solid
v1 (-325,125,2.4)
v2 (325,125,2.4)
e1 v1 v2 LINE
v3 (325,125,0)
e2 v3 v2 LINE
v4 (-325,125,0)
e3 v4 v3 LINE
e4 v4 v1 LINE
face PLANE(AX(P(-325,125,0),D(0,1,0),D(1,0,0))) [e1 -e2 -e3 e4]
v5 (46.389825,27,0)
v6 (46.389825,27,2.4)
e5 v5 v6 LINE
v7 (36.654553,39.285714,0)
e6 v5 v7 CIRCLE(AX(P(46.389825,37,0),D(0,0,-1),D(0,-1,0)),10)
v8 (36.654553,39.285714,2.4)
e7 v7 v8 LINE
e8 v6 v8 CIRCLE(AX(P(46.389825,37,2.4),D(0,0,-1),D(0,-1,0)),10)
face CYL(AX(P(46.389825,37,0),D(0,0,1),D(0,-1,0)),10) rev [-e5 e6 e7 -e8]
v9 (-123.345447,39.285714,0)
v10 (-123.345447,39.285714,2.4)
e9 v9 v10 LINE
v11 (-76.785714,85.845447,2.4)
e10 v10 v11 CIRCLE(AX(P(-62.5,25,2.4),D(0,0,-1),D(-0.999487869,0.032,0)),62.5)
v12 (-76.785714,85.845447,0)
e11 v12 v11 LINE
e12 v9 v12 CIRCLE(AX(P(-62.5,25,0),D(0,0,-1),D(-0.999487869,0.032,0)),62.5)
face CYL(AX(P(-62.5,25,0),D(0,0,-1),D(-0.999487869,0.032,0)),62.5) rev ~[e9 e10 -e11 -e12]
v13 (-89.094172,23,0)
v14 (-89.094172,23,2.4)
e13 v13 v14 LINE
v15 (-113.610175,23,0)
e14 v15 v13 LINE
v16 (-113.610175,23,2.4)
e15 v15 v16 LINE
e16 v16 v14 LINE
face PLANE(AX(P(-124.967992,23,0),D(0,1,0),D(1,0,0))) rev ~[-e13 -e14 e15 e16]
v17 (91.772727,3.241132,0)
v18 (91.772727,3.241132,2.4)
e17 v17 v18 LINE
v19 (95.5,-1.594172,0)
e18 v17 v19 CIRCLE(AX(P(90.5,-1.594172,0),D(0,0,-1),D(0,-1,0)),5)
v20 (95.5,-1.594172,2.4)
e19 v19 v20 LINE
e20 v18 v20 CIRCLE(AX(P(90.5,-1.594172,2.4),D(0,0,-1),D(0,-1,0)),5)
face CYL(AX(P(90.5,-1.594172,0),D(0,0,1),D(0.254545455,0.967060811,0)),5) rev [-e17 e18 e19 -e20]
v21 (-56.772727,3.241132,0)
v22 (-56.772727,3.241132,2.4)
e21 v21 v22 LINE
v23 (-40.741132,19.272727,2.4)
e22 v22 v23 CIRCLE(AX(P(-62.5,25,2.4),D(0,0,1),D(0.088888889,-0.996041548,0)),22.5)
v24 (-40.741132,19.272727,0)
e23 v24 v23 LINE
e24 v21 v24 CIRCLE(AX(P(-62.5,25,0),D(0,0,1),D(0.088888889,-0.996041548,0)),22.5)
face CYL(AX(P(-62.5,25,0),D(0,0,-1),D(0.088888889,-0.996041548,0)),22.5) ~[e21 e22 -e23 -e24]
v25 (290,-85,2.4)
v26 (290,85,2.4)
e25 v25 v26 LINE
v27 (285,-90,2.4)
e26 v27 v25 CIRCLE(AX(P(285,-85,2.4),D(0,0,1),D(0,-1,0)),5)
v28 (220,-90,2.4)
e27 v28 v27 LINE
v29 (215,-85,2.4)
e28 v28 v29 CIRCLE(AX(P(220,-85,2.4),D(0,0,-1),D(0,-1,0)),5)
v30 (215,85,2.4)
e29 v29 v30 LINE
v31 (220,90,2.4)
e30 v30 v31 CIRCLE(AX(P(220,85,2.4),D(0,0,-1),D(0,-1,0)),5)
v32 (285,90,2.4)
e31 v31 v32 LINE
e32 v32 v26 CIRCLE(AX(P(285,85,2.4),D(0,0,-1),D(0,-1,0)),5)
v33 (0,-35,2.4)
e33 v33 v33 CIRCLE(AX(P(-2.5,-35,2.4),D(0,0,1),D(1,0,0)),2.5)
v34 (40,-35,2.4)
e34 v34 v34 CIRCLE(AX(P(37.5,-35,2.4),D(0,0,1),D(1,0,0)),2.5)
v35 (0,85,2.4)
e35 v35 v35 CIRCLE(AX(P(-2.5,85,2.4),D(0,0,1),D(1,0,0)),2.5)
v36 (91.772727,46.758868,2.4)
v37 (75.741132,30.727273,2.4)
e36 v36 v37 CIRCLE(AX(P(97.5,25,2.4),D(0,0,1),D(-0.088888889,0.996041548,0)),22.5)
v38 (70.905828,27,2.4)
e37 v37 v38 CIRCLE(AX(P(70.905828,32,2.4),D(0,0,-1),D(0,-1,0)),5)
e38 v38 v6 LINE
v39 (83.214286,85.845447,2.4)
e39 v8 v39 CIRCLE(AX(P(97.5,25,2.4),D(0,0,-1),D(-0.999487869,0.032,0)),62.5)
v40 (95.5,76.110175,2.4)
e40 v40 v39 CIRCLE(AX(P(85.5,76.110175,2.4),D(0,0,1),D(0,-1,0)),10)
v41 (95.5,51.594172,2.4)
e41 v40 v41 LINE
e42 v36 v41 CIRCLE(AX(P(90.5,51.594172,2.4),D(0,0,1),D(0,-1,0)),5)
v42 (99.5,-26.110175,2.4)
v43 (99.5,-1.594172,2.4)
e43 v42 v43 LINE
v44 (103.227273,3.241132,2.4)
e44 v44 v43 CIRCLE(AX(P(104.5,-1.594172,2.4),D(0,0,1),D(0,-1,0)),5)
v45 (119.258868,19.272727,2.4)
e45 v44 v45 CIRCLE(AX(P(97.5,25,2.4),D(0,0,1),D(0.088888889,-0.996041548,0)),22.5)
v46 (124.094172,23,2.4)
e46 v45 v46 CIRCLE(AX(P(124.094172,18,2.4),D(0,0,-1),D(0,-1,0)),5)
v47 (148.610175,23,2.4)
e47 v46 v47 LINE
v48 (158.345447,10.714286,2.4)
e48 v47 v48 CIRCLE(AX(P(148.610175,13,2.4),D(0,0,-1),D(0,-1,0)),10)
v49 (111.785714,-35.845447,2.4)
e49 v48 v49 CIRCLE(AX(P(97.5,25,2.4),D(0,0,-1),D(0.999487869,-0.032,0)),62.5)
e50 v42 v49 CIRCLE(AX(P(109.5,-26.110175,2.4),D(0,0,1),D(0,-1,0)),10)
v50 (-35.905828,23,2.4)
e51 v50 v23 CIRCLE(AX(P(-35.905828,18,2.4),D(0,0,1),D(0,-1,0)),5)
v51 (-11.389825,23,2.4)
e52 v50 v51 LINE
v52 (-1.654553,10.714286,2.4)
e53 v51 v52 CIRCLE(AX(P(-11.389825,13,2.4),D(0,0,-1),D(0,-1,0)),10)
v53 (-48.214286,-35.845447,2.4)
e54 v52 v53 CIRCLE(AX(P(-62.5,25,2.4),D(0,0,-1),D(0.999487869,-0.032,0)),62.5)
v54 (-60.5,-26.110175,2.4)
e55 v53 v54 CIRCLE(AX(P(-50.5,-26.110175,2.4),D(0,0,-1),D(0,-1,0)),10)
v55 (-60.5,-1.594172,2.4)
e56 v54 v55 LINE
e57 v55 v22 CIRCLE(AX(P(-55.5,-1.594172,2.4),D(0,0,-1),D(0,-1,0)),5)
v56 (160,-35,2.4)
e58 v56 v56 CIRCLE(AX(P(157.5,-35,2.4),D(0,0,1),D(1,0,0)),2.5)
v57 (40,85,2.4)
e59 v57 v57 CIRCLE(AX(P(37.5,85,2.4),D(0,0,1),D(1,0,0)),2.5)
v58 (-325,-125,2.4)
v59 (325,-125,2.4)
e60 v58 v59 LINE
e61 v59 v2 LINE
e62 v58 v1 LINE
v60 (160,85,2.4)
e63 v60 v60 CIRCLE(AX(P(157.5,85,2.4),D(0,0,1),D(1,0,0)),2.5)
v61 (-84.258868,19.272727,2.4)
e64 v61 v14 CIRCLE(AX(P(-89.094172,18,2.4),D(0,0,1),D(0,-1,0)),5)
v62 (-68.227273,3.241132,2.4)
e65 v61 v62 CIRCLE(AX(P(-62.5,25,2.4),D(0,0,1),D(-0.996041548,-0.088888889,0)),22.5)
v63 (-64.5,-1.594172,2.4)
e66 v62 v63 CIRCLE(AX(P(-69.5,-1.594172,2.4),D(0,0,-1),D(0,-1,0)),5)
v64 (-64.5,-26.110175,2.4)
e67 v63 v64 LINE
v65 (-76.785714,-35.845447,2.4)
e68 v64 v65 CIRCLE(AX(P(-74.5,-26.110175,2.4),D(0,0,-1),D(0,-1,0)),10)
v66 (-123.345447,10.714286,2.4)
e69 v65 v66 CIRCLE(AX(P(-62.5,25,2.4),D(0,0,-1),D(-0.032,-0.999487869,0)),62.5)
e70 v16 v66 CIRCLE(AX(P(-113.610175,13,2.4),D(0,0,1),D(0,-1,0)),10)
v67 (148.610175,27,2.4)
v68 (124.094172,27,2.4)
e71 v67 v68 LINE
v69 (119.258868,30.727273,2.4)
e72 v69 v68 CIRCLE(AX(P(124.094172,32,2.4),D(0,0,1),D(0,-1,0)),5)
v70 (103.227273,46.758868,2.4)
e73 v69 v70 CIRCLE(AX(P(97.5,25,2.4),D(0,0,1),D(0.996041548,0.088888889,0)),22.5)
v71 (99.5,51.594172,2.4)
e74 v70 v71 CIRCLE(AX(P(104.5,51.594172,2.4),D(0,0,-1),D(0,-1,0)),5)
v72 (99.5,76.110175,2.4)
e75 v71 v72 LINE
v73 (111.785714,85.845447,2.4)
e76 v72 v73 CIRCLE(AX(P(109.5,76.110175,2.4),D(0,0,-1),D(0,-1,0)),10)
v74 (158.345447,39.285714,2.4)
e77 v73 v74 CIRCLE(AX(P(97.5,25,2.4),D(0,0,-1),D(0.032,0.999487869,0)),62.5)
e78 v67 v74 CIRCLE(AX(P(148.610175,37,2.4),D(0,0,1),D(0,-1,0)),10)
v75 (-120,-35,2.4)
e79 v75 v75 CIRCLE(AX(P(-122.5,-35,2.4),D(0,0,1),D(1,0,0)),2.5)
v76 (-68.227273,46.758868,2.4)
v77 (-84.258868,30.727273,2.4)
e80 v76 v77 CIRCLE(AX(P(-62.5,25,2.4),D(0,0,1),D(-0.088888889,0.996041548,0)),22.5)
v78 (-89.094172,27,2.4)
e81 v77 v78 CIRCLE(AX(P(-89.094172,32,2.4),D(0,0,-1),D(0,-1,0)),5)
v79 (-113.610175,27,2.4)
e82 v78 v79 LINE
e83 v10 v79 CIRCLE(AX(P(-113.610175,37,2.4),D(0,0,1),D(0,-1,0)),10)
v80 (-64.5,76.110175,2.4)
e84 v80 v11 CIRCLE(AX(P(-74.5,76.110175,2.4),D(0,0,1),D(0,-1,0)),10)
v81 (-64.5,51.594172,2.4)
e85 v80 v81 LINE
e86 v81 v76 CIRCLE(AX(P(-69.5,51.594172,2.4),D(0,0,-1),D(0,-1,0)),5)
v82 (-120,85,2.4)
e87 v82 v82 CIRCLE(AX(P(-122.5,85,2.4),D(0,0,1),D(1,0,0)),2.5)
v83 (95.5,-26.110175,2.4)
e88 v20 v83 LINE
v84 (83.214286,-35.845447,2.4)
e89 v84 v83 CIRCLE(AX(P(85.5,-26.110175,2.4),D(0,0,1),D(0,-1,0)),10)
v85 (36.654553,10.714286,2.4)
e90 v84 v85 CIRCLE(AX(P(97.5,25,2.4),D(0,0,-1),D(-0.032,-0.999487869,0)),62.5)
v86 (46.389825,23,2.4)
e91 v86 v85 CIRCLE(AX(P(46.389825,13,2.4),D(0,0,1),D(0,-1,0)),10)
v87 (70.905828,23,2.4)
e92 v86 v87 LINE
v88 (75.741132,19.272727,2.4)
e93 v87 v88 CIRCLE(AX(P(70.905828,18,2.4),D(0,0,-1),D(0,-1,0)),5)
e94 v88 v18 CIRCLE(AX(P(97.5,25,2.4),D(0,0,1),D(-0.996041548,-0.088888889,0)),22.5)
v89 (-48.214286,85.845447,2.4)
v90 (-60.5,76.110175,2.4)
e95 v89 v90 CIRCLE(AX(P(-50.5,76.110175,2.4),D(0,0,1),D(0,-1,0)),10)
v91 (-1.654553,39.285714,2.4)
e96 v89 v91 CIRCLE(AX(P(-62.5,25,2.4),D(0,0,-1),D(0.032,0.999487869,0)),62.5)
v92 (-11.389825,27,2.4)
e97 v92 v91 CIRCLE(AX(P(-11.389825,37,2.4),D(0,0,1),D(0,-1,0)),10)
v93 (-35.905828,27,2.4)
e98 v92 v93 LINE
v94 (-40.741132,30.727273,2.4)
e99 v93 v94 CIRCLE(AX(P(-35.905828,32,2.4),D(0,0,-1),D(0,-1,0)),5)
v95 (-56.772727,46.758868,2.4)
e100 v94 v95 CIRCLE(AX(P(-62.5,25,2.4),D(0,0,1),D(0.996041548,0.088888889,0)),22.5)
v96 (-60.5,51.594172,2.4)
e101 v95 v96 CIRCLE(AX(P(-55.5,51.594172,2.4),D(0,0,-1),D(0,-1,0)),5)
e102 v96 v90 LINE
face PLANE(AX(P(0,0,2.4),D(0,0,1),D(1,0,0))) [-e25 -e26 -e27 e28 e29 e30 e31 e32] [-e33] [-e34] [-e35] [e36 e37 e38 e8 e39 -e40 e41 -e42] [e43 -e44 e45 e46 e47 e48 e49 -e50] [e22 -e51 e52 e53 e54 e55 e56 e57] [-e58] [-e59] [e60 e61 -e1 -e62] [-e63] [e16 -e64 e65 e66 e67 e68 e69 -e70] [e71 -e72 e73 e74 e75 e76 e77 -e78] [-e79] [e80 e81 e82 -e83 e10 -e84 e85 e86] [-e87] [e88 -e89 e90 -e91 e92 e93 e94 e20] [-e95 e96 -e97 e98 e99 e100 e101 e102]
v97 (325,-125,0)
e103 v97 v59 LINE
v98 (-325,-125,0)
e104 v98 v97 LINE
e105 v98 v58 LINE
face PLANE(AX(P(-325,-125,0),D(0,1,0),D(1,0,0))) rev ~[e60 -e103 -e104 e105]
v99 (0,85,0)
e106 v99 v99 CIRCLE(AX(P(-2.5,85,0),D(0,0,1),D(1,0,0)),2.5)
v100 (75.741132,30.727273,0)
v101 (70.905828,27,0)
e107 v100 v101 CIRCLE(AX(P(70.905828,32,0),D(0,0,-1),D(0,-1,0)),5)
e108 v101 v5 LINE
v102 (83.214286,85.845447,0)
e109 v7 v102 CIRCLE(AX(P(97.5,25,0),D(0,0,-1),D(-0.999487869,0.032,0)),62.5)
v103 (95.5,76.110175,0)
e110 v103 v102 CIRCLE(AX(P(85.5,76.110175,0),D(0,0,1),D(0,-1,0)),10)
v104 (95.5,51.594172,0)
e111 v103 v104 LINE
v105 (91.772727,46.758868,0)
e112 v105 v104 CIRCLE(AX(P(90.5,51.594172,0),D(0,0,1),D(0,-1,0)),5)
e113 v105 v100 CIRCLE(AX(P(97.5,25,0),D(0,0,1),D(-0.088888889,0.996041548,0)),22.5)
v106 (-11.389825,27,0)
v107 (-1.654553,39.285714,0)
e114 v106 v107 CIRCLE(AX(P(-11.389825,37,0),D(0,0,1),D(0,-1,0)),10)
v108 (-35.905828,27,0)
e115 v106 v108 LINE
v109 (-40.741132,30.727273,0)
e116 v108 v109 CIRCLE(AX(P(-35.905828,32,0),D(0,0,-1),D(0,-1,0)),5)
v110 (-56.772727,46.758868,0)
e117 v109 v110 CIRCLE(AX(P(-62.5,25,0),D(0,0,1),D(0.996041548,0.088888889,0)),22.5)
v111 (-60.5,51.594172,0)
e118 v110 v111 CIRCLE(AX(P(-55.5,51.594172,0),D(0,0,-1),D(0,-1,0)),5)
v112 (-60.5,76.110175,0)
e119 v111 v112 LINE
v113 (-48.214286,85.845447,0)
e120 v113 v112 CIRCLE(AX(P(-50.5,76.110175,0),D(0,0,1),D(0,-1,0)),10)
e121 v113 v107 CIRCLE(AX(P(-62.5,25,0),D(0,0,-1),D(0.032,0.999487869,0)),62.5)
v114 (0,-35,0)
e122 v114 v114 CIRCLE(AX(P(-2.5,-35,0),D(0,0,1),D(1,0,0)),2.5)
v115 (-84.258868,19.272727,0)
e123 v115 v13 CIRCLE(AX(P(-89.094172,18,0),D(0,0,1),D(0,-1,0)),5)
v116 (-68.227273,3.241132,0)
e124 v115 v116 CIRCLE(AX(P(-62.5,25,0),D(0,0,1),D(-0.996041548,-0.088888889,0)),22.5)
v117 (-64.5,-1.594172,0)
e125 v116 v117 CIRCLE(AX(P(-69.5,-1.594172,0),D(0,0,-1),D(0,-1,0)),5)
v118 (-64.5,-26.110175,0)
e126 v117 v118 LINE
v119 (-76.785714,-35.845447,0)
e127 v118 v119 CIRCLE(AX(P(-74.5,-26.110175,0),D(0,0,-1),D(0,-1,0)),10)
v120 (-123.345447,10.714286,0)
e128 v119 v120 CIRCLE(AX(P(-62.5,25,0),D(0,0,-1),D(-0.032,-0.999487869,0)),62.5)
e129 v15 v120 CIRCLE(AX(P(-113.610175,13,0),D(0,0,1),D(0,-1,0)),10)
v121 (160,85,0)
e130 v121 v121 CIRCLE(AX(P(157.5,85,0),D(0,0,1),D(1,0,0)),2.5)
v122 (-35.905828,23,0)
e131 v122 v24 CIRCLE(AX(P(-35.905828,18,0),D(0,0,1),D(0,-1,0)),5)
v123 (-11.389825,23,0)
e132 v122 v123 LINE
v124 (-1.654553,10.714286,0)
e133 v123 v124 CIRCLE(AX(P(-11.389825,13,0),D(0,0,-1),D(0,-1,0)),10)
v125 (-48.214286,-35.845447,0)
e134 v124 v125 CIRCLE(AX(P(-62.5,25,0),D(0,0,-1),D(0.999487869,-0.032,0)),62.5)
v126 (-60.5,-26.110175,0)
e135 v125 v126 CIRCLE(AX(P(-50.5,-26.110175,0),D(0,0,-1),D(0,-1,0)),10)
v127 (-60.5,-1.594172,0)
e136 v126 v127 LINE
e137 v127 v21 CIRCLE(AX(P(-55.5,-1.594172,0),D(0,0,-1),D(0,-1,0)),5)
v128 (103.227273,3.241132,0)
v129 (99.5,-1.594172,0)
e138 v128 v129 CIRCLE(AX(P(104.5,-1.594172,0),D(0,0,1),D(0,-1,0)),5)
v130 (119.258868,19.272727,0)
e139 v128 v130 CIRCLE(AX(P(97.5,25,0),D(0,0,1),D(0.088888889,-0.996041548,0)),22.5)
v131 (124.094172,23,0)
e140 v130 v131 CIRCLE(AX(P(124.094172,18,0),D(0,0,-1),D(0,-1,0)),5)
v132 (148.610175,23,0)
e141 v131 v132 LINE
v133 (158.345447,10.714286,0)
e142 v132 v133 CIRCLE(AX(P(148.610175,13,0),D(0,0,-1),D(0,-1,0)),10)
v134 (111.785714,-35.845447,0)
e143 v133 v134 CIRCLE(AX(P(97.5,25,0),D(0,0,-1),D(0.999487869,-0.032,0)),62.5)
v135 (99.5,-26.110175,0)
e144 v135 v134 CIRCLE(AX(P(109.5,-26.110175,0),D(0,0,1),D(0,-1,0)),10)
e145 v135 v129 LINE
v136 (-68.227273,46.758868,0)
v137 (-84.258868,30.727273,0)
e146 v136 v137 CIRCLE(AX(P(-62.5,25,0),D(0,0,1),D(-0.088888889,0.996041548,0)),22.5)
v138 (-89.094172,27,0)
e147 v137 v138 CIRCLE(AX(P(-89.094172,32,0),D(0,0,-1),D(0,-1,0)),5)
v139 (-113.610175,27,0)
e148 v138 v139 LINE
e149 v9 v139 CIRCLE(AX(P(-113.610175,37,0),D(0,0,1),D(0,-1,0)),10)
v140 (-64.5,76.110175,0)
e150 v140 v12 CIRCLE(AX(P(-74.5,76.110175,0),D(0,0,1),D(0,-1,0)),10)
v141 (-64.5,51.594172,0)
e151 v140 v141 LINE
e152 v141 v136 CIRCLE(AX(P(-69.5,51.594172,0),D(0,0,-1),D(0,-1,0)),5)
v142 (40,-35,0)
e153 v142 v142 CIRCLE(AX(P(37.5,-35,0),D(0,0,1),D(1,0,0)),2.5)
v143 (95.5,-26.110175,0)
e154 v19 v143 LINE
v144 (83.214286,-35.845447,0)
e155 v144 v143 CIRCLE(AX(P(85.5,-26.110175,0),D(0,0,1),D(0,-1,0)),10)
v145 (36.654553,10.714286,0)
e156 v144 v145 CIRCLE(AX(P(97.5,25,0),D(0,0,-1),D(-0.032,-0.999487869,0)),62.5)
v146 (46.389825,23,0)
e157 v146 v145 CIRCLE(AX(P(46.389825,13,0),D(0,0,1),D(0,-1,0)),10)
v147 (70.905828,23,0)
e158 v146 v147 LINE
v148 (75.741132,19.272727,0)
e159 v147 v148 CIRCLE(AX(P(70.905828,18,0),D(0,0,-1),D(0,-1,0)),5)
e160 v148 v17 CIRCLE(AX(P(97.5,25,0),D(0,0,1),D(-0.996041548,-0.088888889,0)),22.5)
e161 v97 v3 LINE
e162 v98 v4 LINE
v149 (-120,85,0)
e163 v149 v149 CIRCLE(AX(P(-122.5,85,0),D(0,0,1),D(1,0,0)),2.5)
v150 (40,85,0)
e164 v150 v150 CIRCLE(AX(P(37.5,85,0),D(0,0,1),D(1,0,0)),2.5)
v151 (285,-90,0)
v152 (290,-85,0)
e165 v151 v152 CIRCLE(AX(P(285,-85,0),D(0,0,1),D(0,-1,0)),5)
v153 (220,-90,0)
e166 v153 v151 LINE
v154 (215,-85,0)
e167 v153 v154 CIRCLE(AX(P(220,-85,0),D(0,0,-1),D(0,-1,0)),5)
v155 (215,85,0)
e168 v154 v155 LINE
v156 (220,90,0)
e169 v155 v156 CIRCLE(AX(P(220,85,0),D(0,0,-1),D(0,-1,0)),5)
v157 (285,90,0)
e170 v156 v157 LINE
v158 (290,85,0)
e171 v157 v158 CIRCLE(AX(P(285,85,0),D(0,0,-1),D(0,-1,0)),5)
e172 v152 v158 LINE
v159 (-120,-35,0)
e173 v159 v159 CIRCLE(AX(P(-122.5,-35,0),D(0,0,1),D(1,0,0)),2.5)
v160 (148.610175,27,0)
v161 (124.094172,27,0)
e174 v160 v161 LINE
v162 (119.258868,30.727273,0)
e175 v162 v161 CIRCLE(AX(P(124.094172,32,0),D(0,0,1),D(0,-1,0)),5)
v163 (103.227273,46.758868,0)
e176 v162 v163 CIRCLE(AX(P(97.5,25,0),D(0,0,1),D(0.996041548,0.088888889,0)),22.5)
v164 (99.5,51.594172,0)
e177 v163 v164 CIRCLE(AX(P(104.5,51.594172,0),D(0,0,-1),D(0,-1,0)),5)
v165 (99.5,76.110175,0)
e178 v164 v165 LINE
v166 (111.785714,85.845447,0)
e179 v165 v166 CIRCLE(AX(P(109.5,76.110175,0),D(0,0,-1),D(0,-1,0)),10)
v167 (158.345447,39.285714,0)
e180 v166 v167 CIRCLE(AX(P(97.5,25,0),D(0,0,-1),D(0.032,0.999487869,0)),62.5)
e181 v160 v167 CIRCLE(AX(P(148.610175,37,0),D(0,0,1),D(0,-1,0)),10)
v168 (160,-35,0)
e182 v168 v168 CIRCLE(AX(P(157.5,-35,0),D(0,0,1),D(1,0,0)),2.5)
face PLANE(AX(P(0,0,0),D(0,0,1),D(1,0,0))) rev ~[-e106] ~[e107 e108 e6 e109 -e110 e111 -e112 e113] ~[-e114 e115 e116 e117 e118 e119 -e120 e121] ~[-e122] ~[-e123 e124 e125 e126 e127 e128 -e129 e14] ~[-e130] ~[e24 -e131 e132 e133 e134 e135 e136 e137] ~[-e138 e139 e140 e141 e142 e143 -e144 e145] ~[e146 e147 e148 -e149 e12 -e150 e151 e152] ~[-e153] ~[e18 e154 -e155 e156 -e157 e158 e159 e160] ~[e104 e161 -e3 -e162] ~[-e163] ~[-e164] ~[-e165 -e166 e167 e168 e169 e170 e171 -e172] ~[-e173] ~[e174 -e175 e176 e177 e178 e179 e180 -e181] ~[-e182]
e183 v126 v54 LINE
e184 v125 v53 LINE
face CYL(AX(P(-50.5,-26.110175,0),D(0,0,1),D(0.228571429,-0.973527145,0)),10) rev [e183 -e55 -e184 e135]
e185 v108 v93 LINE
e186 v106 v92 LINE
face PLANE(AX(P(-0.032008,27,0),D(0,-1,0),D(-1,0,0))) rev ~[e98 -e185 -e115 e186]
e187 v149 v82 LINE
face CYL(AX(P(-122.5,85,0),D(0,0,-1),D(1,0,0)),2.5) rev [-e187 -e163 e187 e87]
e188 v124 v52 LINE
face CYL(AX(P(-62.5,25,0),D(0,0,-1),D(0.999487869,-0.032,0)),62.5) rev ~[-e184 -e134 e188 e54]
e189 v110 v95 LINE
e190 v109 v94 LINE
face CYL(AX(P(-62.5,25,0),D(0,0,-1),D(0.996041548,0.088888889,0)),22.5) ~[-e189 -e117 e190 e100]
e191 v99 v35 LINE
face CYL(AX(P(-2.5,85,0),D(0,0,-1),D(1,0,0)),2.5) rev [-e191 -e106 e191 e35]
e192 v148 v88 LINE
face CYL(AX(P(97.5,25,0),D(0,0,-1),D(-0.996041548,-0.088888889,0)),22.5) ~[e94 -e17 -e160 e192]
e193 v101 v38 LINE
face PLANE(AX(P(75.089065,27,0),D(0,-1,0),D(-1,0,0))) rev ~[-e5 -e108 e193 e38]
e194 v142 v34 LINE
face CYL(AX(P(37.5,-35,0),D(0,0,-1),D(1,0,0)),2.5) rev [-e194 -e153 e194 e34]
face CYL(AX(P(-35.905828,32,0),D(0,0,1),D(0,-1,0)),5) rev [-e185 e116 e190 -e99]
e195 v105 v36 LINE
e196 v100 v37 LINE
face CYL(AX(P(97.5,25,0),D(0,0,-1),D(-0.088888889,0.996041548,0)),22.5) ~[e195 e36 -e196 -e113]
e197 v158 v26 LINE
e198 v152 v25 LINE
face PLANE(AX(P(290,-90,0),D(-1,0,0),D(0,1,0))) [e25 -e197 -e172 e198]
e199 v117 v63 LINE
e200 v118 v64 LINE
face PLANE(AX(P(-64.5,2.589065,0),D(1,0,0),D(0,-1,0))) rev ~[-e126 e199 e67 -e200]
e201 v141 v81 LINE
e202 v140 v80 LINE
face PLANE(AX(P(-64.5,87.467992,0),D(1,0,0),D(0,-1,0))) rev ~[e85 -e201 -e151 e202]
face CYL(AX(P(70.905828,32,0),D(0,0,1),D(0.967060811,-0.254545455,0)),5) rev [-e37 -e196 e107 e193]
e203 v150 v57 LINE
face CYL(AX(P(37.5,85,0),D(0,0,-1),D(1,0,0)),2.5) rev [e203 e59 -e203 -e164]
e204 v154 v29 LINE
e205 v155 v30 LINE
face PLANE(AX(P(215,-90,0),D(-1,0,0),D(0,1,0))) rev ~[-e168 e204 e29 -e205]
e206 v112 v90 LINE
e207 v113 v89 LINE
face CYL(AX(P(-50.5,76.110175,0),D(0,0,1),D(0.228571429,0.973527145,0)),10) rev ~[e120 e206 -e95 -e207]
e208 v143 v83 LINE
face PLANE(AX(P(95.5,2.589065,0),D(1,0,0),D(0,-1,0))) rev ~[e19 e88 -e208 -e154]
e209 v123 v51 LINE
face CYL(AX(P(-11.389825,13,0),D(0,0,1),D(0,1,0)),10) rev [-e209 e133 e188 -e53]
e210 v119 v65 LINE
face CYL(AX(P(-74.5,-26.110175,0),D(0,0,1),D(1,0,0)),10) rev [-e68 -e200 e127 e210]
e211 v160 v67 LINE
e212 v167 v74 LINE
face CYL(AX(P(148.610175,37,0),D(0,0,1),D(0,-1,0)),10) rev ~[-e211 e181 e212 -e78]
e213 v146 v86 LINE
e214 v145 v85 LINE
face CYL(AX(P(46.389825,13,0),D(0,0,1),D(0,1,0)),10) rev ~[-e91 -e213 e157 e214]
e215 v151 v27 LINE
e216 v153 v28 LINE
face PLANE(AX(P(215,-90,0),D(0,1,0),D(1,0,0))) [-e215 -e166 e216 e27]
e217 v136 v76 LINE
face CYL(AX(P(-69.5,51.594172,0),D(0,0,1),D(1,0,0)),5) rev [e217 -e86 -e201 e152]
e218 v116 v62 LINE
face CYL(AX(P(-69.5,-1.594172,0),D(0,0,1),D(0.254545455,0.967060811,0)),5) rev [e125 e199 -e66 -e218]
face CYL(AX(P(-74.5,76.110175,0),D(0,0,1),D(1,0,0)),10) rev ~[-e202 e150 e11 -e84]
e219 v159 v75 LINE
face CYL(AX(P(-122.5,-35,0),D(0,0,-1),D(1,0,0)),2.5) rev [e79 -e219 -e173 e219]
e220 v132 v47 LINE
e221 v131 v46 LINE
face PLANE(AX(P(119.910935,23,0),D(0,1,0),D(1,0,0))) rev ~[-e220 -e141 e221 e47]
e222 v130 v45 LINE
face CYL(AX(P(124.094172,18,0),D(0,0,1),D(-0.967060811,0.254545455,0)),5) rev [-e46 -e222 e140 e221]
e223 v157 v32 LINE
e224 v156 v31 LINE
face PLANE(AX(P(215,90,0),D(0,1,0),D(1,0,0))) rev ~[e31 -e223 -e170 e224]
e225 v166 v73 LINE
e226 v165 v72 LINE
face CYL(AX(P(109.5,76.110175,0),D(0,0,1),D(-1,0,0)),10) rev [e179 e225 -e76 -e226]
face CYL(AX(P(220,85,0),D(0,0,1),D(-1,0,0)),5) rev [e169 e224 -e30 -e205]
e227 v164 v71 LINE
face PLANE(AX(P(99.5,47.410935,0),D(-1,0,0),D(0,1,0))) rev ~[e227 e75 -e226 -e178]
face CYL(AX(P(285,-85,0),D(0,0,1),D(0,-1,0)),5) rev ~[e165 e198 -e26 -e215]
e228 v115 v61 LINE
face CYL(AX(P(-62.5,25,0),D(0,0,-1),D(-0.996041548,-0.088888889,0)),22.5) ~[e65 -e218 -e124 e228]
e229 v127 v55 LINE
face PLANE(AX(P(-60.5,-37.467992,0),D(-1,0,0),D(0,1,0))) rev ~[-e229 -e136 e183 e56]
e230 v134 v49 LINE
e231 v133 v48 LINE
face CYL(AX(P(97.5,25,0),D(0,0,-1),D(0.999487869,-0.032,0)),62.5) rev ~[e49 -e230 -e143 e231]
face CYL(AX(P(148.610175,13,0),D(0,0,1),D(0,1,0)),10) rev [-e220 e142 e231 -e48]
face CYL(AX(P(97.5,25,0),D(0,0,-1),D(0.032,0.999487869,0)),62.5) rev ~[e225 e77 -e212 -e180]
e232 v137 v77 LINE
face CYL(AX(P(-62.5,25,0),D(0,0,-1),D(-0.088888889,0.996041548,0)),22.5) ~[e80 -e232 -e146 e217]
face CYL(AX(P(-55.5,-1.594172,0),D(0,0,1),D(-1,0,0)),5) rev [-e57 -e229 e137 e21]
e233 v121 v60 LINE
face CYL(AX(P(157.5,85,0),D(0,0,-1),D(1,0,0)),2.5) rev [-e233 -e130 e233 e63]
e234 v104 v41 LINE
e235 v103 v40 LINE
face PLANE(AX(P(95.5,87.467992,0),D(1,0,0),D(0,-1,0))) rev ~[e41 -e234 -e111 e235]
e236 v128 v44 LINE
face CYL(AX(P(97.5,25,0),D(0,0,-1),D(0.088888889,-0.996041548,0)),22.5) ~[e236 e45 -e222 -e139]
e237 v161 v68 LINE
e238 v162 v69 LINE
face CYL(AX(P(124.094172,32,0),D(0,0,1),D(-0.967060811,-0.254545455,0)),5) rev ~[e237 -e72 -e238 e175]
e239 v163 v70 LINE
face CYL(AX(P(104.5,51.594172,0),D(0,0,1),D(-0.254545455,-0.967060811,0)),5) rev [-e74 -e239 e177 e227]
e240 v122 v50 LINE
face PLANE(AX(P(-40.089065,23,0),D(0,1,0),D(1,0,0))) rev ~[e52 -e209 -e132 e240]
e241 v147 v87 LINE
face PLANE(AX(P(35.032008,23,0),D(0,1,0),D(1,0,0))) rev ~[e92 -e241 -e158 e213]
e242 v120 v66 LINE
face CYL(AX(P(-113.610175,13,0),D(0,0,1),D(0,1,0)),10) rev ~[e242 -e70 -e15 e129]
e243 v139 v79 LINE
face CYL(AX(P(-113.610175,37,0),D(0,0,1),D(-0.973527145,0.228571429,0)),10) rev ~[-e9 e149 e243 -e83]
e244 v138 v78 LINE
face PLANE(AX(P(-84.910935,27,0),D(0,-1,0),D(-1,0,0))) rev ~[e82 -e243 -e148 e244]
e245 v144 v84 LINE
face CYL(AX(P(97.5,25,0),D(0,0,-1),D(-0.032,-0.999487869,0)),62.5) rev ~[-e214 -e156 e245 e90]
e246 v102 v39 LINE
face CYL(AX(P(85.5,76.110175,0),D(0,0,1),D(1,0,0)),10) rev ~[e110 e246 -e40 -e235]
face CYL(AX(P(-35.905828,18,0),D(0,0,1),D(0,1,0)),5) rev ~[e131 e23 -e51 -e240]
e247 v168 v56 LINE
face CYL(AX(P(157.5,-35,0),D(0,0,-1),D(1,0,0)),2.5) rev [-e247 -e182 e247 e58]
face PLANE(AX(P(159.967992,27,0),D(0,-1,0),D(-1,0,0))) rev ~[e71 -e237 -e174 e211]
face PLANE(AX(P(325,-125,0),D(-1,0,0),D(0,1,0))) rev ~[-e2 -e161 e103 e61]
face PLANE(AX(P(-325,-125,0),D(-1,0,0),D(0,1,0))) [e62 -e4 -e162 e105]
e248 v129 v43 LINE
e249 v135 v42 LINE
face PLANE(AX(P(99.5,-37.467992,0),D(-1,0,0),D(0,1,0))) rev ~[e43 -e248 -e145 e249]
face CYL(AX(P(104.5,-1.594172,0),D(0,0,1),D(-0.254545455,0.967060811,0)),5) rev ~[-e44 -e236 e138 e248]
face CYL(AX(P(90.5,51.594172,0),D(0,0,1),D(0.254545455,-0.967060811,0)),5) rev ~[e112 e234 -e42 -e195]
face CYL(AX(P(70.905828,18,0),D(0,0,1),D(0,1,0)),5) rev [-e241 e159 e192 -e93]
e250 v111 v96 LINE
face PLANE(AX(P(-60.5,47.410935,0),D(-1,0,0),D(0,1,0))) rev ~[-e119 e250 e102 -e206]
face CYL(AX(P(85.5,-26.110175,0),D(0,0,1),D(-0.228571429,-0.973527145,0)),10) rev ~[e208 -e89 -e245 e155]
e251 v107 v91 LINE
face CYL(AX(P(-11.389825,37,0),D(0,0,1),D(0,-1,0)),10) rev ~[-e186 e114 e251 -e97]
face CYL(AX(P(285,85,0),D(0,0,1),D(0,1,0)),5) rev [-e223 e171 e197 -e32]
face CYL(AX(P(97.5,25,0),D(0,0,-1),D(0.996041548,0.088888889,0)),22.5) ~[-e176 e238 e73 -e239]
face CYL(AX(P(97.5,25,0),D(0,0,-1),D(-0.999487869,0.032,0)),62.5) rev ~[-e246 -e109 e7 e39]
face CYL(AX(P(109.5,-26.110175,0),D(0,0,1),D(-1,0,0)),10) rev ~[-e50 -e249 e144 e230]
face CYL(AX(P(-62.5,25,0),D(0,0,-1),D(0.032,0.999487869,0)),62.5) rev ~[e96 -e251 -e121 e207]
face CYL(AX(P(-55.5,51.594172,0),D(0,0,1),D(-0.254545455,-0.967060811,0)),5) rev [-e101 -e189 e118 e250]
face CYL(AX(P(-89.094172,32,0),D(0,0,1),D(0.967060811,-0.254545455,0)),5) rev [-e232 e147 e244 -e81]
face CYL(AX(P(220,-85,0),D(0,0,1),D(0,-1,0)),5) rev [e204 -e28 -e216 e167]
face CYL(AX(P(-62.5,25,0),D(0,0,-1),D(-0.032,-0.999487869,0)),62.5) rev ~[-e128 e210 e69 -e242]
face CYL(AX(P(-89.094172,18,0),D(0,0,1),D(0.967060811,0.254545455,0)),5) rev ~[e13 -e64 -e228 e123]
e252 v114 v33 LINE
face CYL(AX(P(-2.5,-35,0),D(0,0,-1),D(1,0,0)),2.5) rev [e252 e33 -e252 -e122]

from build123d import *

# Parameters (mm, degrees)
F0_W     = 650
F0_H     = 250
F0_R     = 2.5
F0_W_2   = 75
F0_H_2   = 180
F0_W_3   = 2
F0_H_3   = 2
F1_DEPTH = 2.4
F2_R     = 5
F3_R     = 10
F4_R     = 5


with BuildPart() as f1:
    # F0 (on Top) → F1 (new body)
    with BuildSketch(Plane.XY):
        Rectangle(F0_W, F0_H)
        with Locations((-122.5, -35)):
            Circle(F0_R, mode=Mode.SUBTRACT)
        with Locations((-2.5, -35)):
            Circle(F0_R, mode=Mode.SUBTRACT)
        with Locations((37.5, -35)):
            Circle(F0_R, mode=Mode.SUBTRACT)
        with Locations((157.5, -35)):
            Circle(F0_R, mode=Mode.SUBTRACT)
        with Locations((-122.5, 85)):
            Circle(F0_R, mode=Mode.SUBTRACT)
        with Locations((-2.5, 85)):
            Circle(F0_R, mode=Mode.SUBTRACT)
        with BuildLine():
            ThreePointArc((-60.5, 87.4679918038), (-18.3058261758, 69.1941738242), (-0.0320081962, 27))
            Line((-0.0320081962, 27), (35.0320081962, 27))
            ThreePointArc((35.0320081962, 27), (53.3058261758, 69.1941738242), (95.5, 87.4679918038))
            ThreePointArc((95.5, 87.4679918038), (96.4998719426, 87.4919974386), (97.5, 87.5))
            ThreePointArc((97.5, 87.5), (98.5001280574, 87.4919974386), (99.5, 87.4679918038))
            ThreePointArc((99.5, 87.4679918038), (141.6941738242, 69.1941738242), (159.9679918038, 27))
            ThreePointArc((159.9679918038, 27), (159.9919974386, 26.0001280574), (160, 25))
            ThreePointArc((160, 25), (159.9919974386, 23.9998719426), (159.9679918038, 23))
            ThreePointArc((159.9679918038, 23), (141.6941738242, -19.1941738242), (99.5, -37.4679918038))
            ThreePointArc((99.5, -37.4679918038), (97.5, -37.5), (95.5, -37.4679918038))
            ThreePointArc((95.5, -37.4679918038), (53.3058261758, -19.1941738242), (35.0320081962, 23))
            Line((35.0320081962, 23), (-0.0320081962, 23))
            ThreePointArc((-0.0320081962, 23), (-18.3058261758, -19.1941738242), (-60.5, -37.4679918038))
            ThreePointArc((-60.5, -37.4679918038), (-61.4998719426, -37.4919974386), (-62.5, -37.5))
            ThreePointArc((-62.5, -37.5), (-63.5001280574, -37.4919974386), (-64.5, -37.4679918038))
            ThreePointArc((-64.5, -37.4679918038), (-106.6941738242, -19.1941738242), (-124.9679918038, 23))
            ThreePointArc((-124.9679918038, 23), (-124.9919974386, 23.9998719426), (-125, 25))
            ThreePointArc((-125, 25), (-124.9919974386, 26.0001280574), (-124.9679918038, 27))
            ThreePointArc((-124.9679918038, 27), (-106.6941738242, 69.1941738242), (-64.5, 87.4679918038))
            ThreePointArc((-64.5, 87.4679918038), (-63.5001280574, 87.4919974386), (-62.5, 87.5))
            ThreePointArc((-62.5, 87.5), (-61.4998719426, 87.4919974386), (-60.5, 87.4679918038))
        make_face(mode=Mode.SUBTRACT)
        with Locations((252.5, 0)):
            Rectangle(F0_W_2, F0_H_2, mode=Mode.SUBTRACT)
        with Locations((37.5, 85)):
            Circle(F0_R, mode=Mode.SUBTRACT)
        with Locations((157.5, 85)):
            Circle(F0_R, mode=Mode.SUBTRACT)
        with BuildLine():
            Line((-64.5, 27), (-64.5, 47.410934831))
            ThreePointArc((-64.5, 47.410934831), (-78.4099025767, 40.9099025767), (-84.910934831, 27))
            Line((-84.910934831, 27), (-64.5, 27))
        make_face()
        with BuildLine():
            Line((-60.5, 27), (-40.089065169, 27))
            ThreePointArc((-40.089065169, 27), (-46.5900974233, 40.9099025767), (-60.5, 47.410934831))
            Line((-60.5, 47.410934831), (-60.5, 27))
        make_face()
        with BuildLine():
            Line((-60.5, 27), (-60.5, 47.410934831))
            ThreePointArc((-60.5, 47.410934831), (-61.4990089156, 47.4777226793), (-62.5, 47.5))
            Line((-62.5, 47.5), (-62.5, 27))
            Line((-62.5, 27), (-60.5, 27))
        make_face()
        with BuildLine():
            Line((-62.5, 27), (-62.5, 47.5))
            ThreePointArc((-62.5, 47.5), (-63.5009910844, 47.4777226793), (-64.5, 47.410934831))
            Line((-64.5, 47.410934831), (-64.5, 27))
            Line((-64.5, 27), (-62.5, 27))
        make_face()
        with BuildLine():
            Line((-40, 25), (0, 25))
            ThreePointArc((0, 25), (-0.0080025614, 26.0001280574), (-0.0320081962, 27))
            Line((-0.0320081962, 27), (-40.089065169, 27))
            ThreePointArc((-40.089065169, 27), (-40.0222773207, 26.0009910844), (-40, 25))
        make_face()
        with BuildLine():
            ThreePointArc((-0.0320081962, 23), (-0.0080025614, 23.9998719426), (0, 25))
            Line((0, 25), (-40, 25))
            ThreePointArc((-40, 25), (-40.0222773207, 23.9990089156), (-40.089065169, 23))
            Line((-40.089065169, 23), (-0.0320081962, 23))
        make_face()
        with BuildLine():
            Line((-60.5, 25), (-40, 25))
            ThreePointArc((-40, 25), (-40.0222773207, 26.0009910844), (-40.089065169, 27))
            Line((-40.089065169, 27), (-60.5, 27))
            Line((-60.5, 27), (-60.5, 25))
        make_face()
        with BuildLine():
            ThreePointArc((-40.089065169, 23), (-40.0222773207, 23.9990089156), (-40, 25))
            Line((-40, 25), (-60.5, 25))
            Line((-60.5, 25), (-60.5, 23))
            Line((-60.5, 23), (-40.089065169, 23))
        make_face()
        with BuildLine():
            ThreePointArc((-60.5, 2.589065169), (-46.5900974233, 9.0900974233), (-40.089065169, 23))
            Line((-40.089065169, 23), (-60.5, 23))
            Line((-60.5, 23), (-60.5, 2.589065169))
        make_face()
        with BuildLine():
            ThreePointArc((-62.5, 2.5), (-61.4990089156, 2.5222773207), (-60.5, 2.589065169))
            Line((-60.5, 2.589065169), (-60.5, 23))
            Line((-60.5, 23), (-62.5, 23))
            Line((-62.5, 23), (-62.5, 2.5))
        make_face()
        with BuildLine():
            ThreePointArc((-64.5, 2.589065169), (-63.5009910844, 2.5222773207), (-62.5, 2.5))
            Line((-62.5, 2.5), (-62.5, 23))
            Line((-62.5, 23), (-64.5, 23))
            Line((-64.5, 23), (-64.5, 2.589065169))
        make_face()
        with Locations((-63.5, 26)):
            Rectangle(F0_W_3, F0_H_3)
        with Locations((-61.5, 26)):
            Rectangle(F0_W_3, F0_H_3)
        with Locations((-61.5, 24)):
            Rectangle(F0_W_3, F0_H_3)
        with Locations((-63.5, 24)):
            Rectangle(F0_W_3, F0_H_3)
        with BuildLine():
            Line((-64.5, 23), (-64.5, 25))
            Line((-64.5, 25), (-85, 25))
            ThreePointArc((-85, 25), (-84.9777226793, 23.9990089156), (-84.910934831, 23))
            Line((-84.910934831, 23), (-64.5, 23))
        make_face()
        with BuildLine():
            Line((-85, 25), (-64.5, 25))
            Line((-64.5, 25), (-64.5, 27))
            Line((-64.5, 27), (-84.910934831, 27))
            ThreePointArc((-84.910934831, 27), (-84.9777226793, 26.0009910844), (-85, 25))
        make_face()
        with BuildLine():
            ThreePointArc((-84.910934831, 23), (-78.4099025767, 9.0900974233), (-64.5, 2.589065169))
            Line((-64.5, 2.589065169), (-64.5, 23))
            Line((-64.5, 23), (-84.910934831, 23))
        make_face()
        with BuildLine():
            ThreePointArc((-125, 25), (-124.9919974386, 23.9998719426), (-124.9679918038, 23))
            Line((-124.9679918038, 23), (-84.910934831, 23))
            ThreePointArc((-84.910934831, 23), (-84.9777226793, 23.9990089156), (-85, 25))
            Line((-85, 25), (-125, 25))
        make_face()
        with BuildLine():
            Line((-84.910934831, 27), (-124.9679918038, 27))
            ThreePointArc((-124.9679918038, 27), (-124.9919974386, 26.0001280574), (-125, 25))
            Line((-125, 25), (-85, 25))
            ThreePointArc((-85, 25), (-84.9777226793, 26.0009910844), (-84.910934831, 27))
        make_face()
        with BuildLine():
            Line((-62.5, 47.5), (-62.5, 87.5))
            ThreePointArc((-62.5, 87.5), (-63.5001280574, 87.4919974386), (-64.5, 87.4679918038))
            Line((-64.5, 87.4679918038), (-64.5, 47.410934831))
            ThreePointArc((-64.5, 47.410934831), (-63.5009910844, 47.4777226793), (-62.5, 47.5))
        make_face()
        with BuildLine():
            Line((-60.5, 47.410934831), (-60.5, 87.4679918038))
            ThreePointArc((-60.5, 87.4679918038), (-61.4998719426, 87.4919974386), (-62.5, 87.5))
            Line((-62.5, 87.5), (-62.5, 47.5))
            ThreePointArc((-62.5, 47.5), (-61.4990089156, 47.4777226793), (-60.5, 47.410934831))
        make_face()
        with BuildLine():
            ThreePointArc((-64.5, -37.4679918038), (-63.5001280574, -37.4919974386), (-62.5, -37.5))
            Line((-62.5, -37.5), (-62.5, 2.5))
            ThreePointArc((-62.5, 2.5), (-63.5009910844, 2.5222773207), (-64.5, 2.589065169))
            Line((-64.5, 2.589065169), (-64.5, -37.4679918038))
        make_face()
        with BuildLine():
            ThreePointArc((-62.5, -37.5), (-61.4998719426, -37.4919974386), (-60.5, -37.4679918038))
            Line((-60.5, -37.4679918038), (-60.5, 2.589065169))
            ThreePointArc((-60.5, 2.589065169), (-61.4990089156, 2.5222773207), (-62.5, 2.5))
            Line((-62.5, 2.5), (-62.5, -37.5))
        make_face()
        with BuildLine():
            ThreePointArc((-0.0320081962, 27), (-0.0080025614, 26.0001280574), (0, 25))
            Line((0, 25), (35, 25))
            ThreePointArc((35, 25), (35.0080025614, 26.0001280574), (35.0320081962, 27))
            Line((35.0320081962, 27), (-0.0320081962, 27))
        make_face()
        with BuildLine():
            Line((35, 25), (0, 25))
            ThreePointArc((0, 25), (-0.0080025614, 23.9998719426), (-0.0320081962, 23))
            Line((-0.0320081962, 23), (35.0320081962, 23))
            ThreePointArc((35.0320081962, 23), (35.0080025614, 23.9998719426), (35, 25))
        make_face()
        with BuildLine():
            Line((75, 25), (35, 25))
            ThreePointArc((35, 25), (35.0080025614, 23.9998719426), (35.0320081962, 23))
            Line((35.0320081962, 23), (75.089065169, 23))
            ThreePointArc((75.089065169, 23), (75.0222773207, 23.9990089156), (75, 25))
        make_face()
        with BuildLine():
            ThreePointArc((35.0320081962, 27), (35.0080025614, 26.0001280574), (35, 25))
            Line((35, 25), (75, 25))
            ThreePointArc((75, 25), (75.0222773207, 26.0009910844), (75.089065169, 27))
            Line((75.089065169, 27), (35.0320081962, 27))
        make_face()
        with BuildLine():
            ThreePointArc((119.910934831, 27), (113.4099025767, 40.9099025767), (99.5, 47.410934831))
            Line((99.5, 47.410934831), (99.5, 27))
            Line((99.5, 27), (119.910934831, 27))
        make_face()
        with BuildLine():
            Line((99.5, 27), (99.5, 25))
            Line((99.5, 25), (120, 25))
            ThreePointArc((120, 25), (119.9777226793, 26.0009910844), (119.910934831, 27))
            Line((119.910934831, 27), (99.5, 27))
        make_face()
        with BuildLine():
            Line((120, 25), (99.5, 25))
            Line((99.5, 25), (99.5, 23))
            Line((99.5, 23), (119.910934831, 23))
            ThreePointArc((119.910934831, 23), (119.9777226793, 23.9990089156), (120, 25))
        make_face()
        with BuildLine():
            Line((99.5, 23), (99.5, 2.589065169))
            ThreePointArc((99.5, 2.589065169), (113.4099025767, 9.0900974233), (119.910934831, 23))
            Line((119.910934831, 23), (99.5, 23))
        make_face()
        with BuildLine():
            Line((95.5, 23), (95.5, 2.589065169))
            ThreePointArc((95.5, 2.589065169), (97.5, 2.5), (99.5, 2.589065169))
            Line((99.5, 2.589065169), (99.5, 23))
            Line((99.5, 23), (97.5, 23))
            Line((97.5, 23), (95.5, 23))
        make_face()
        Polygon((97.5, 25), (95.5, 25), (95.5, 23), (97.5, 23), (99.5, 23), (99.5, 25), align=None)
        with Locations((98.5, 26)):
            Rectangle(F0_W_3, F0_H_3)
        with Locations((96.5, 26)):
            Rectangle(F0_W_3, F0_H_3)
        with BuildLine():
            ThreePointArc((97.5, 47.5), (96.4990089156, 47.4777226793), (95.5, 47.410934831))
            Line((95.5, 47.410934831), (95.5, 27))
            Line((95.5, 27), (97.5, 27))
            Line((97.5, 27), (97.5, 47.5))
        make_face()
        with BuildLine():
            ThreePointArc((99.5, 47.410934831), (98.5009910844, 47.4777226793), (97.5, 47.5))
            Line((97.5, 47.5), (97.5, 27))
            Line((97.5, 27), (99.5, 27))
            Line((99.5, 27), (99.5, 47.410934831))
        make_face()
        with BuildLine():
            ThreePointArc((95.5, 47.410934831), (81.5900974233, 40.9099025767), (75.089065169, 27))
            Line((75.089065169, 27), (95.5, 27))
            Line((95.5, 27), (95.5, 47.410934831))
        make_face()
        with BuildLine():
            ThreePointArc((75.089065169, 27), (75.0222773207, 26.0009910844), (75, 25))
            Line((75, 25), (95.5, 25))
            Line((95.5, 25), (95.5, 27))
            Line((95.5, 27), (75.089065169, 27))
        make_face()
        with BuildLine():
            Line((95.5, 25), (75, 25))
            ThreePointArc((75, 25), (75.0222773207, 23.9990089156), (75.089065169, 23))
            Line((75.089065169, 23), (95.5, 23))
            Line((95.5, 23), (95.5, 25))
        make_face()
        with BuildLine():
            Line((95.5, 23), (75.089065169, 23))
            ThreePointArc((75.089065169, 23), (81.5900974233, 9.0900974233), (95.5, 2.589065169))
            Line((95.5, 2.589065169), (95.5, 23))
        make_face()
        with BuildLine():
            Line((95.5, 2.589065169), (95.5, -37.4679918038))
            ThreePointArc((95.5, -37.4679918038), (97.5, -37.5), (99.5, -37.4679918038))
            Line((99.5, -37.4679918038), (99.5, 2.589065169))
            ThreePointArc((99.5, 2.589065169), (97.5, 2.5), (95.5, 2.589065169))
        make_face()
        with BuildLine():
            Line((119.910934831, 23), (159.9679918038, 23))
            ThreePointArc((159.9679918038, 23), (159.9919974386, 23.9998719426), (160, 25))
            Line((160, 25), (120, 25))
            ThreePointArc((120, 25), (119.9777226793, 23.9990089156), (119.910934831, 23))
        make_face()
        with BuildLine():
            ThreePointArc((160, 25), (159.9919974386, 26.0001280574), (159.9679918038, 27))
            Line((159.9679918038, 27), (119.910934831, 27))
            ThreePointArc((119.910934831, 27), (119.9777226793, 26.0009910844), (120, 25))
            Line((120, 25), (160, 25))
        make_face()
        with BuildLine():
            ThreePointArc((99.5, 87.4679918038), (98.5001280574, 87.4919974386), (97.5, 87.5))
            Line((97.5, 87.5), (97.5, 47.5))
            ThreePointArc((97.5, 47.5), (98.5009910844, 47.4777226793), (99.5, 47.410934831))
            Line((99.5, 47.410934831), (99.5, 87.4679918038))
        make_face()
        with BuildLine():
            ThreePointArc((97.5, 87.5), (96.4998719426, 87.4919974386), (95.5, 87.4679918038))
            Line((95.5, 87.4679918038), (95.5, 47.410934831))
            ThreePointArc((95.5, 47.410934831), (96.4990089156, 47.4777226793), (97.5, 47.5))
            Line((97.5, 47.5), (97.5, 87.5))
        make_face()
    extrude(amount=F1_DEPTH)

    # F2
    f2_edges = [f1.edges().sort_by_distance(p)[0] for p in [
        (-40.089065, 27, 1.2),
        (-60.5, 47.410935, 1.2),
        (-64.5, 47.410935, 1.2),
        (-84.910935, 27, 1.2),
        (-84.910935, 23, 1.2),
        (-64.5, 2.589065, 1.2),
        (-60.5, 2.589065, 1.2),
        (-40.089065, 23, 1.2),
        (119.910935, 23, 1.2),
        (99.5, 2.589065, 1.2),
        (119.910935, 27, 1.2),
        (99.5, 47.410935, 1.2),
        (95.5, 47.410935, 1.2),
        (75.089065, 27, 1.2),
        (75.089065, 23, 1.2),
        (95.5, 2.589065, 1.2),
    ]]
    fillet(f2_edges, radius=F2_R)

    # F3
    f3_edges = [f1.edges().sort_by_distance(p)[0] for p in [
        (-64.5, -37.467992, 1.2),
        (-60.5, -37.467992, 1.2),
        (-0.032008, 23, 1.2),
        (-0.032008, 27, 1.2),
        (95.5, -37.467992, 1.2),
        (99.5, -37.467992, 1.2),
        (35.032008, 27, 1.2),
        (35.032008, 23, 1.2),
        (99.5, 87.467992, 1.2),
        (-60.5, 87.467992, 1.2),
        (-124.967992, 23, 1.2),
        (-124.967992, 27, 1.2),
        (-64.5, 87.467992, 1.2),
        (159.967992, 27, 1.2),
        (159.967992, 23, 1.2),
        (95.5, 87.467992, 1.2),
    ]]
    fillet(f3_edges, radius=F3_R)

    # F4
    f4_edges = [f1.edges().sort_by_distance(p)[0] for p in [
        (215, 90, 1.2),
        (290, 90, 1.2),
        (215, -90, 1.2),
        (290, -90, 1.2),
    ]]
    fillet(f4_edges, radius=F4_R)


solid = f1.part
